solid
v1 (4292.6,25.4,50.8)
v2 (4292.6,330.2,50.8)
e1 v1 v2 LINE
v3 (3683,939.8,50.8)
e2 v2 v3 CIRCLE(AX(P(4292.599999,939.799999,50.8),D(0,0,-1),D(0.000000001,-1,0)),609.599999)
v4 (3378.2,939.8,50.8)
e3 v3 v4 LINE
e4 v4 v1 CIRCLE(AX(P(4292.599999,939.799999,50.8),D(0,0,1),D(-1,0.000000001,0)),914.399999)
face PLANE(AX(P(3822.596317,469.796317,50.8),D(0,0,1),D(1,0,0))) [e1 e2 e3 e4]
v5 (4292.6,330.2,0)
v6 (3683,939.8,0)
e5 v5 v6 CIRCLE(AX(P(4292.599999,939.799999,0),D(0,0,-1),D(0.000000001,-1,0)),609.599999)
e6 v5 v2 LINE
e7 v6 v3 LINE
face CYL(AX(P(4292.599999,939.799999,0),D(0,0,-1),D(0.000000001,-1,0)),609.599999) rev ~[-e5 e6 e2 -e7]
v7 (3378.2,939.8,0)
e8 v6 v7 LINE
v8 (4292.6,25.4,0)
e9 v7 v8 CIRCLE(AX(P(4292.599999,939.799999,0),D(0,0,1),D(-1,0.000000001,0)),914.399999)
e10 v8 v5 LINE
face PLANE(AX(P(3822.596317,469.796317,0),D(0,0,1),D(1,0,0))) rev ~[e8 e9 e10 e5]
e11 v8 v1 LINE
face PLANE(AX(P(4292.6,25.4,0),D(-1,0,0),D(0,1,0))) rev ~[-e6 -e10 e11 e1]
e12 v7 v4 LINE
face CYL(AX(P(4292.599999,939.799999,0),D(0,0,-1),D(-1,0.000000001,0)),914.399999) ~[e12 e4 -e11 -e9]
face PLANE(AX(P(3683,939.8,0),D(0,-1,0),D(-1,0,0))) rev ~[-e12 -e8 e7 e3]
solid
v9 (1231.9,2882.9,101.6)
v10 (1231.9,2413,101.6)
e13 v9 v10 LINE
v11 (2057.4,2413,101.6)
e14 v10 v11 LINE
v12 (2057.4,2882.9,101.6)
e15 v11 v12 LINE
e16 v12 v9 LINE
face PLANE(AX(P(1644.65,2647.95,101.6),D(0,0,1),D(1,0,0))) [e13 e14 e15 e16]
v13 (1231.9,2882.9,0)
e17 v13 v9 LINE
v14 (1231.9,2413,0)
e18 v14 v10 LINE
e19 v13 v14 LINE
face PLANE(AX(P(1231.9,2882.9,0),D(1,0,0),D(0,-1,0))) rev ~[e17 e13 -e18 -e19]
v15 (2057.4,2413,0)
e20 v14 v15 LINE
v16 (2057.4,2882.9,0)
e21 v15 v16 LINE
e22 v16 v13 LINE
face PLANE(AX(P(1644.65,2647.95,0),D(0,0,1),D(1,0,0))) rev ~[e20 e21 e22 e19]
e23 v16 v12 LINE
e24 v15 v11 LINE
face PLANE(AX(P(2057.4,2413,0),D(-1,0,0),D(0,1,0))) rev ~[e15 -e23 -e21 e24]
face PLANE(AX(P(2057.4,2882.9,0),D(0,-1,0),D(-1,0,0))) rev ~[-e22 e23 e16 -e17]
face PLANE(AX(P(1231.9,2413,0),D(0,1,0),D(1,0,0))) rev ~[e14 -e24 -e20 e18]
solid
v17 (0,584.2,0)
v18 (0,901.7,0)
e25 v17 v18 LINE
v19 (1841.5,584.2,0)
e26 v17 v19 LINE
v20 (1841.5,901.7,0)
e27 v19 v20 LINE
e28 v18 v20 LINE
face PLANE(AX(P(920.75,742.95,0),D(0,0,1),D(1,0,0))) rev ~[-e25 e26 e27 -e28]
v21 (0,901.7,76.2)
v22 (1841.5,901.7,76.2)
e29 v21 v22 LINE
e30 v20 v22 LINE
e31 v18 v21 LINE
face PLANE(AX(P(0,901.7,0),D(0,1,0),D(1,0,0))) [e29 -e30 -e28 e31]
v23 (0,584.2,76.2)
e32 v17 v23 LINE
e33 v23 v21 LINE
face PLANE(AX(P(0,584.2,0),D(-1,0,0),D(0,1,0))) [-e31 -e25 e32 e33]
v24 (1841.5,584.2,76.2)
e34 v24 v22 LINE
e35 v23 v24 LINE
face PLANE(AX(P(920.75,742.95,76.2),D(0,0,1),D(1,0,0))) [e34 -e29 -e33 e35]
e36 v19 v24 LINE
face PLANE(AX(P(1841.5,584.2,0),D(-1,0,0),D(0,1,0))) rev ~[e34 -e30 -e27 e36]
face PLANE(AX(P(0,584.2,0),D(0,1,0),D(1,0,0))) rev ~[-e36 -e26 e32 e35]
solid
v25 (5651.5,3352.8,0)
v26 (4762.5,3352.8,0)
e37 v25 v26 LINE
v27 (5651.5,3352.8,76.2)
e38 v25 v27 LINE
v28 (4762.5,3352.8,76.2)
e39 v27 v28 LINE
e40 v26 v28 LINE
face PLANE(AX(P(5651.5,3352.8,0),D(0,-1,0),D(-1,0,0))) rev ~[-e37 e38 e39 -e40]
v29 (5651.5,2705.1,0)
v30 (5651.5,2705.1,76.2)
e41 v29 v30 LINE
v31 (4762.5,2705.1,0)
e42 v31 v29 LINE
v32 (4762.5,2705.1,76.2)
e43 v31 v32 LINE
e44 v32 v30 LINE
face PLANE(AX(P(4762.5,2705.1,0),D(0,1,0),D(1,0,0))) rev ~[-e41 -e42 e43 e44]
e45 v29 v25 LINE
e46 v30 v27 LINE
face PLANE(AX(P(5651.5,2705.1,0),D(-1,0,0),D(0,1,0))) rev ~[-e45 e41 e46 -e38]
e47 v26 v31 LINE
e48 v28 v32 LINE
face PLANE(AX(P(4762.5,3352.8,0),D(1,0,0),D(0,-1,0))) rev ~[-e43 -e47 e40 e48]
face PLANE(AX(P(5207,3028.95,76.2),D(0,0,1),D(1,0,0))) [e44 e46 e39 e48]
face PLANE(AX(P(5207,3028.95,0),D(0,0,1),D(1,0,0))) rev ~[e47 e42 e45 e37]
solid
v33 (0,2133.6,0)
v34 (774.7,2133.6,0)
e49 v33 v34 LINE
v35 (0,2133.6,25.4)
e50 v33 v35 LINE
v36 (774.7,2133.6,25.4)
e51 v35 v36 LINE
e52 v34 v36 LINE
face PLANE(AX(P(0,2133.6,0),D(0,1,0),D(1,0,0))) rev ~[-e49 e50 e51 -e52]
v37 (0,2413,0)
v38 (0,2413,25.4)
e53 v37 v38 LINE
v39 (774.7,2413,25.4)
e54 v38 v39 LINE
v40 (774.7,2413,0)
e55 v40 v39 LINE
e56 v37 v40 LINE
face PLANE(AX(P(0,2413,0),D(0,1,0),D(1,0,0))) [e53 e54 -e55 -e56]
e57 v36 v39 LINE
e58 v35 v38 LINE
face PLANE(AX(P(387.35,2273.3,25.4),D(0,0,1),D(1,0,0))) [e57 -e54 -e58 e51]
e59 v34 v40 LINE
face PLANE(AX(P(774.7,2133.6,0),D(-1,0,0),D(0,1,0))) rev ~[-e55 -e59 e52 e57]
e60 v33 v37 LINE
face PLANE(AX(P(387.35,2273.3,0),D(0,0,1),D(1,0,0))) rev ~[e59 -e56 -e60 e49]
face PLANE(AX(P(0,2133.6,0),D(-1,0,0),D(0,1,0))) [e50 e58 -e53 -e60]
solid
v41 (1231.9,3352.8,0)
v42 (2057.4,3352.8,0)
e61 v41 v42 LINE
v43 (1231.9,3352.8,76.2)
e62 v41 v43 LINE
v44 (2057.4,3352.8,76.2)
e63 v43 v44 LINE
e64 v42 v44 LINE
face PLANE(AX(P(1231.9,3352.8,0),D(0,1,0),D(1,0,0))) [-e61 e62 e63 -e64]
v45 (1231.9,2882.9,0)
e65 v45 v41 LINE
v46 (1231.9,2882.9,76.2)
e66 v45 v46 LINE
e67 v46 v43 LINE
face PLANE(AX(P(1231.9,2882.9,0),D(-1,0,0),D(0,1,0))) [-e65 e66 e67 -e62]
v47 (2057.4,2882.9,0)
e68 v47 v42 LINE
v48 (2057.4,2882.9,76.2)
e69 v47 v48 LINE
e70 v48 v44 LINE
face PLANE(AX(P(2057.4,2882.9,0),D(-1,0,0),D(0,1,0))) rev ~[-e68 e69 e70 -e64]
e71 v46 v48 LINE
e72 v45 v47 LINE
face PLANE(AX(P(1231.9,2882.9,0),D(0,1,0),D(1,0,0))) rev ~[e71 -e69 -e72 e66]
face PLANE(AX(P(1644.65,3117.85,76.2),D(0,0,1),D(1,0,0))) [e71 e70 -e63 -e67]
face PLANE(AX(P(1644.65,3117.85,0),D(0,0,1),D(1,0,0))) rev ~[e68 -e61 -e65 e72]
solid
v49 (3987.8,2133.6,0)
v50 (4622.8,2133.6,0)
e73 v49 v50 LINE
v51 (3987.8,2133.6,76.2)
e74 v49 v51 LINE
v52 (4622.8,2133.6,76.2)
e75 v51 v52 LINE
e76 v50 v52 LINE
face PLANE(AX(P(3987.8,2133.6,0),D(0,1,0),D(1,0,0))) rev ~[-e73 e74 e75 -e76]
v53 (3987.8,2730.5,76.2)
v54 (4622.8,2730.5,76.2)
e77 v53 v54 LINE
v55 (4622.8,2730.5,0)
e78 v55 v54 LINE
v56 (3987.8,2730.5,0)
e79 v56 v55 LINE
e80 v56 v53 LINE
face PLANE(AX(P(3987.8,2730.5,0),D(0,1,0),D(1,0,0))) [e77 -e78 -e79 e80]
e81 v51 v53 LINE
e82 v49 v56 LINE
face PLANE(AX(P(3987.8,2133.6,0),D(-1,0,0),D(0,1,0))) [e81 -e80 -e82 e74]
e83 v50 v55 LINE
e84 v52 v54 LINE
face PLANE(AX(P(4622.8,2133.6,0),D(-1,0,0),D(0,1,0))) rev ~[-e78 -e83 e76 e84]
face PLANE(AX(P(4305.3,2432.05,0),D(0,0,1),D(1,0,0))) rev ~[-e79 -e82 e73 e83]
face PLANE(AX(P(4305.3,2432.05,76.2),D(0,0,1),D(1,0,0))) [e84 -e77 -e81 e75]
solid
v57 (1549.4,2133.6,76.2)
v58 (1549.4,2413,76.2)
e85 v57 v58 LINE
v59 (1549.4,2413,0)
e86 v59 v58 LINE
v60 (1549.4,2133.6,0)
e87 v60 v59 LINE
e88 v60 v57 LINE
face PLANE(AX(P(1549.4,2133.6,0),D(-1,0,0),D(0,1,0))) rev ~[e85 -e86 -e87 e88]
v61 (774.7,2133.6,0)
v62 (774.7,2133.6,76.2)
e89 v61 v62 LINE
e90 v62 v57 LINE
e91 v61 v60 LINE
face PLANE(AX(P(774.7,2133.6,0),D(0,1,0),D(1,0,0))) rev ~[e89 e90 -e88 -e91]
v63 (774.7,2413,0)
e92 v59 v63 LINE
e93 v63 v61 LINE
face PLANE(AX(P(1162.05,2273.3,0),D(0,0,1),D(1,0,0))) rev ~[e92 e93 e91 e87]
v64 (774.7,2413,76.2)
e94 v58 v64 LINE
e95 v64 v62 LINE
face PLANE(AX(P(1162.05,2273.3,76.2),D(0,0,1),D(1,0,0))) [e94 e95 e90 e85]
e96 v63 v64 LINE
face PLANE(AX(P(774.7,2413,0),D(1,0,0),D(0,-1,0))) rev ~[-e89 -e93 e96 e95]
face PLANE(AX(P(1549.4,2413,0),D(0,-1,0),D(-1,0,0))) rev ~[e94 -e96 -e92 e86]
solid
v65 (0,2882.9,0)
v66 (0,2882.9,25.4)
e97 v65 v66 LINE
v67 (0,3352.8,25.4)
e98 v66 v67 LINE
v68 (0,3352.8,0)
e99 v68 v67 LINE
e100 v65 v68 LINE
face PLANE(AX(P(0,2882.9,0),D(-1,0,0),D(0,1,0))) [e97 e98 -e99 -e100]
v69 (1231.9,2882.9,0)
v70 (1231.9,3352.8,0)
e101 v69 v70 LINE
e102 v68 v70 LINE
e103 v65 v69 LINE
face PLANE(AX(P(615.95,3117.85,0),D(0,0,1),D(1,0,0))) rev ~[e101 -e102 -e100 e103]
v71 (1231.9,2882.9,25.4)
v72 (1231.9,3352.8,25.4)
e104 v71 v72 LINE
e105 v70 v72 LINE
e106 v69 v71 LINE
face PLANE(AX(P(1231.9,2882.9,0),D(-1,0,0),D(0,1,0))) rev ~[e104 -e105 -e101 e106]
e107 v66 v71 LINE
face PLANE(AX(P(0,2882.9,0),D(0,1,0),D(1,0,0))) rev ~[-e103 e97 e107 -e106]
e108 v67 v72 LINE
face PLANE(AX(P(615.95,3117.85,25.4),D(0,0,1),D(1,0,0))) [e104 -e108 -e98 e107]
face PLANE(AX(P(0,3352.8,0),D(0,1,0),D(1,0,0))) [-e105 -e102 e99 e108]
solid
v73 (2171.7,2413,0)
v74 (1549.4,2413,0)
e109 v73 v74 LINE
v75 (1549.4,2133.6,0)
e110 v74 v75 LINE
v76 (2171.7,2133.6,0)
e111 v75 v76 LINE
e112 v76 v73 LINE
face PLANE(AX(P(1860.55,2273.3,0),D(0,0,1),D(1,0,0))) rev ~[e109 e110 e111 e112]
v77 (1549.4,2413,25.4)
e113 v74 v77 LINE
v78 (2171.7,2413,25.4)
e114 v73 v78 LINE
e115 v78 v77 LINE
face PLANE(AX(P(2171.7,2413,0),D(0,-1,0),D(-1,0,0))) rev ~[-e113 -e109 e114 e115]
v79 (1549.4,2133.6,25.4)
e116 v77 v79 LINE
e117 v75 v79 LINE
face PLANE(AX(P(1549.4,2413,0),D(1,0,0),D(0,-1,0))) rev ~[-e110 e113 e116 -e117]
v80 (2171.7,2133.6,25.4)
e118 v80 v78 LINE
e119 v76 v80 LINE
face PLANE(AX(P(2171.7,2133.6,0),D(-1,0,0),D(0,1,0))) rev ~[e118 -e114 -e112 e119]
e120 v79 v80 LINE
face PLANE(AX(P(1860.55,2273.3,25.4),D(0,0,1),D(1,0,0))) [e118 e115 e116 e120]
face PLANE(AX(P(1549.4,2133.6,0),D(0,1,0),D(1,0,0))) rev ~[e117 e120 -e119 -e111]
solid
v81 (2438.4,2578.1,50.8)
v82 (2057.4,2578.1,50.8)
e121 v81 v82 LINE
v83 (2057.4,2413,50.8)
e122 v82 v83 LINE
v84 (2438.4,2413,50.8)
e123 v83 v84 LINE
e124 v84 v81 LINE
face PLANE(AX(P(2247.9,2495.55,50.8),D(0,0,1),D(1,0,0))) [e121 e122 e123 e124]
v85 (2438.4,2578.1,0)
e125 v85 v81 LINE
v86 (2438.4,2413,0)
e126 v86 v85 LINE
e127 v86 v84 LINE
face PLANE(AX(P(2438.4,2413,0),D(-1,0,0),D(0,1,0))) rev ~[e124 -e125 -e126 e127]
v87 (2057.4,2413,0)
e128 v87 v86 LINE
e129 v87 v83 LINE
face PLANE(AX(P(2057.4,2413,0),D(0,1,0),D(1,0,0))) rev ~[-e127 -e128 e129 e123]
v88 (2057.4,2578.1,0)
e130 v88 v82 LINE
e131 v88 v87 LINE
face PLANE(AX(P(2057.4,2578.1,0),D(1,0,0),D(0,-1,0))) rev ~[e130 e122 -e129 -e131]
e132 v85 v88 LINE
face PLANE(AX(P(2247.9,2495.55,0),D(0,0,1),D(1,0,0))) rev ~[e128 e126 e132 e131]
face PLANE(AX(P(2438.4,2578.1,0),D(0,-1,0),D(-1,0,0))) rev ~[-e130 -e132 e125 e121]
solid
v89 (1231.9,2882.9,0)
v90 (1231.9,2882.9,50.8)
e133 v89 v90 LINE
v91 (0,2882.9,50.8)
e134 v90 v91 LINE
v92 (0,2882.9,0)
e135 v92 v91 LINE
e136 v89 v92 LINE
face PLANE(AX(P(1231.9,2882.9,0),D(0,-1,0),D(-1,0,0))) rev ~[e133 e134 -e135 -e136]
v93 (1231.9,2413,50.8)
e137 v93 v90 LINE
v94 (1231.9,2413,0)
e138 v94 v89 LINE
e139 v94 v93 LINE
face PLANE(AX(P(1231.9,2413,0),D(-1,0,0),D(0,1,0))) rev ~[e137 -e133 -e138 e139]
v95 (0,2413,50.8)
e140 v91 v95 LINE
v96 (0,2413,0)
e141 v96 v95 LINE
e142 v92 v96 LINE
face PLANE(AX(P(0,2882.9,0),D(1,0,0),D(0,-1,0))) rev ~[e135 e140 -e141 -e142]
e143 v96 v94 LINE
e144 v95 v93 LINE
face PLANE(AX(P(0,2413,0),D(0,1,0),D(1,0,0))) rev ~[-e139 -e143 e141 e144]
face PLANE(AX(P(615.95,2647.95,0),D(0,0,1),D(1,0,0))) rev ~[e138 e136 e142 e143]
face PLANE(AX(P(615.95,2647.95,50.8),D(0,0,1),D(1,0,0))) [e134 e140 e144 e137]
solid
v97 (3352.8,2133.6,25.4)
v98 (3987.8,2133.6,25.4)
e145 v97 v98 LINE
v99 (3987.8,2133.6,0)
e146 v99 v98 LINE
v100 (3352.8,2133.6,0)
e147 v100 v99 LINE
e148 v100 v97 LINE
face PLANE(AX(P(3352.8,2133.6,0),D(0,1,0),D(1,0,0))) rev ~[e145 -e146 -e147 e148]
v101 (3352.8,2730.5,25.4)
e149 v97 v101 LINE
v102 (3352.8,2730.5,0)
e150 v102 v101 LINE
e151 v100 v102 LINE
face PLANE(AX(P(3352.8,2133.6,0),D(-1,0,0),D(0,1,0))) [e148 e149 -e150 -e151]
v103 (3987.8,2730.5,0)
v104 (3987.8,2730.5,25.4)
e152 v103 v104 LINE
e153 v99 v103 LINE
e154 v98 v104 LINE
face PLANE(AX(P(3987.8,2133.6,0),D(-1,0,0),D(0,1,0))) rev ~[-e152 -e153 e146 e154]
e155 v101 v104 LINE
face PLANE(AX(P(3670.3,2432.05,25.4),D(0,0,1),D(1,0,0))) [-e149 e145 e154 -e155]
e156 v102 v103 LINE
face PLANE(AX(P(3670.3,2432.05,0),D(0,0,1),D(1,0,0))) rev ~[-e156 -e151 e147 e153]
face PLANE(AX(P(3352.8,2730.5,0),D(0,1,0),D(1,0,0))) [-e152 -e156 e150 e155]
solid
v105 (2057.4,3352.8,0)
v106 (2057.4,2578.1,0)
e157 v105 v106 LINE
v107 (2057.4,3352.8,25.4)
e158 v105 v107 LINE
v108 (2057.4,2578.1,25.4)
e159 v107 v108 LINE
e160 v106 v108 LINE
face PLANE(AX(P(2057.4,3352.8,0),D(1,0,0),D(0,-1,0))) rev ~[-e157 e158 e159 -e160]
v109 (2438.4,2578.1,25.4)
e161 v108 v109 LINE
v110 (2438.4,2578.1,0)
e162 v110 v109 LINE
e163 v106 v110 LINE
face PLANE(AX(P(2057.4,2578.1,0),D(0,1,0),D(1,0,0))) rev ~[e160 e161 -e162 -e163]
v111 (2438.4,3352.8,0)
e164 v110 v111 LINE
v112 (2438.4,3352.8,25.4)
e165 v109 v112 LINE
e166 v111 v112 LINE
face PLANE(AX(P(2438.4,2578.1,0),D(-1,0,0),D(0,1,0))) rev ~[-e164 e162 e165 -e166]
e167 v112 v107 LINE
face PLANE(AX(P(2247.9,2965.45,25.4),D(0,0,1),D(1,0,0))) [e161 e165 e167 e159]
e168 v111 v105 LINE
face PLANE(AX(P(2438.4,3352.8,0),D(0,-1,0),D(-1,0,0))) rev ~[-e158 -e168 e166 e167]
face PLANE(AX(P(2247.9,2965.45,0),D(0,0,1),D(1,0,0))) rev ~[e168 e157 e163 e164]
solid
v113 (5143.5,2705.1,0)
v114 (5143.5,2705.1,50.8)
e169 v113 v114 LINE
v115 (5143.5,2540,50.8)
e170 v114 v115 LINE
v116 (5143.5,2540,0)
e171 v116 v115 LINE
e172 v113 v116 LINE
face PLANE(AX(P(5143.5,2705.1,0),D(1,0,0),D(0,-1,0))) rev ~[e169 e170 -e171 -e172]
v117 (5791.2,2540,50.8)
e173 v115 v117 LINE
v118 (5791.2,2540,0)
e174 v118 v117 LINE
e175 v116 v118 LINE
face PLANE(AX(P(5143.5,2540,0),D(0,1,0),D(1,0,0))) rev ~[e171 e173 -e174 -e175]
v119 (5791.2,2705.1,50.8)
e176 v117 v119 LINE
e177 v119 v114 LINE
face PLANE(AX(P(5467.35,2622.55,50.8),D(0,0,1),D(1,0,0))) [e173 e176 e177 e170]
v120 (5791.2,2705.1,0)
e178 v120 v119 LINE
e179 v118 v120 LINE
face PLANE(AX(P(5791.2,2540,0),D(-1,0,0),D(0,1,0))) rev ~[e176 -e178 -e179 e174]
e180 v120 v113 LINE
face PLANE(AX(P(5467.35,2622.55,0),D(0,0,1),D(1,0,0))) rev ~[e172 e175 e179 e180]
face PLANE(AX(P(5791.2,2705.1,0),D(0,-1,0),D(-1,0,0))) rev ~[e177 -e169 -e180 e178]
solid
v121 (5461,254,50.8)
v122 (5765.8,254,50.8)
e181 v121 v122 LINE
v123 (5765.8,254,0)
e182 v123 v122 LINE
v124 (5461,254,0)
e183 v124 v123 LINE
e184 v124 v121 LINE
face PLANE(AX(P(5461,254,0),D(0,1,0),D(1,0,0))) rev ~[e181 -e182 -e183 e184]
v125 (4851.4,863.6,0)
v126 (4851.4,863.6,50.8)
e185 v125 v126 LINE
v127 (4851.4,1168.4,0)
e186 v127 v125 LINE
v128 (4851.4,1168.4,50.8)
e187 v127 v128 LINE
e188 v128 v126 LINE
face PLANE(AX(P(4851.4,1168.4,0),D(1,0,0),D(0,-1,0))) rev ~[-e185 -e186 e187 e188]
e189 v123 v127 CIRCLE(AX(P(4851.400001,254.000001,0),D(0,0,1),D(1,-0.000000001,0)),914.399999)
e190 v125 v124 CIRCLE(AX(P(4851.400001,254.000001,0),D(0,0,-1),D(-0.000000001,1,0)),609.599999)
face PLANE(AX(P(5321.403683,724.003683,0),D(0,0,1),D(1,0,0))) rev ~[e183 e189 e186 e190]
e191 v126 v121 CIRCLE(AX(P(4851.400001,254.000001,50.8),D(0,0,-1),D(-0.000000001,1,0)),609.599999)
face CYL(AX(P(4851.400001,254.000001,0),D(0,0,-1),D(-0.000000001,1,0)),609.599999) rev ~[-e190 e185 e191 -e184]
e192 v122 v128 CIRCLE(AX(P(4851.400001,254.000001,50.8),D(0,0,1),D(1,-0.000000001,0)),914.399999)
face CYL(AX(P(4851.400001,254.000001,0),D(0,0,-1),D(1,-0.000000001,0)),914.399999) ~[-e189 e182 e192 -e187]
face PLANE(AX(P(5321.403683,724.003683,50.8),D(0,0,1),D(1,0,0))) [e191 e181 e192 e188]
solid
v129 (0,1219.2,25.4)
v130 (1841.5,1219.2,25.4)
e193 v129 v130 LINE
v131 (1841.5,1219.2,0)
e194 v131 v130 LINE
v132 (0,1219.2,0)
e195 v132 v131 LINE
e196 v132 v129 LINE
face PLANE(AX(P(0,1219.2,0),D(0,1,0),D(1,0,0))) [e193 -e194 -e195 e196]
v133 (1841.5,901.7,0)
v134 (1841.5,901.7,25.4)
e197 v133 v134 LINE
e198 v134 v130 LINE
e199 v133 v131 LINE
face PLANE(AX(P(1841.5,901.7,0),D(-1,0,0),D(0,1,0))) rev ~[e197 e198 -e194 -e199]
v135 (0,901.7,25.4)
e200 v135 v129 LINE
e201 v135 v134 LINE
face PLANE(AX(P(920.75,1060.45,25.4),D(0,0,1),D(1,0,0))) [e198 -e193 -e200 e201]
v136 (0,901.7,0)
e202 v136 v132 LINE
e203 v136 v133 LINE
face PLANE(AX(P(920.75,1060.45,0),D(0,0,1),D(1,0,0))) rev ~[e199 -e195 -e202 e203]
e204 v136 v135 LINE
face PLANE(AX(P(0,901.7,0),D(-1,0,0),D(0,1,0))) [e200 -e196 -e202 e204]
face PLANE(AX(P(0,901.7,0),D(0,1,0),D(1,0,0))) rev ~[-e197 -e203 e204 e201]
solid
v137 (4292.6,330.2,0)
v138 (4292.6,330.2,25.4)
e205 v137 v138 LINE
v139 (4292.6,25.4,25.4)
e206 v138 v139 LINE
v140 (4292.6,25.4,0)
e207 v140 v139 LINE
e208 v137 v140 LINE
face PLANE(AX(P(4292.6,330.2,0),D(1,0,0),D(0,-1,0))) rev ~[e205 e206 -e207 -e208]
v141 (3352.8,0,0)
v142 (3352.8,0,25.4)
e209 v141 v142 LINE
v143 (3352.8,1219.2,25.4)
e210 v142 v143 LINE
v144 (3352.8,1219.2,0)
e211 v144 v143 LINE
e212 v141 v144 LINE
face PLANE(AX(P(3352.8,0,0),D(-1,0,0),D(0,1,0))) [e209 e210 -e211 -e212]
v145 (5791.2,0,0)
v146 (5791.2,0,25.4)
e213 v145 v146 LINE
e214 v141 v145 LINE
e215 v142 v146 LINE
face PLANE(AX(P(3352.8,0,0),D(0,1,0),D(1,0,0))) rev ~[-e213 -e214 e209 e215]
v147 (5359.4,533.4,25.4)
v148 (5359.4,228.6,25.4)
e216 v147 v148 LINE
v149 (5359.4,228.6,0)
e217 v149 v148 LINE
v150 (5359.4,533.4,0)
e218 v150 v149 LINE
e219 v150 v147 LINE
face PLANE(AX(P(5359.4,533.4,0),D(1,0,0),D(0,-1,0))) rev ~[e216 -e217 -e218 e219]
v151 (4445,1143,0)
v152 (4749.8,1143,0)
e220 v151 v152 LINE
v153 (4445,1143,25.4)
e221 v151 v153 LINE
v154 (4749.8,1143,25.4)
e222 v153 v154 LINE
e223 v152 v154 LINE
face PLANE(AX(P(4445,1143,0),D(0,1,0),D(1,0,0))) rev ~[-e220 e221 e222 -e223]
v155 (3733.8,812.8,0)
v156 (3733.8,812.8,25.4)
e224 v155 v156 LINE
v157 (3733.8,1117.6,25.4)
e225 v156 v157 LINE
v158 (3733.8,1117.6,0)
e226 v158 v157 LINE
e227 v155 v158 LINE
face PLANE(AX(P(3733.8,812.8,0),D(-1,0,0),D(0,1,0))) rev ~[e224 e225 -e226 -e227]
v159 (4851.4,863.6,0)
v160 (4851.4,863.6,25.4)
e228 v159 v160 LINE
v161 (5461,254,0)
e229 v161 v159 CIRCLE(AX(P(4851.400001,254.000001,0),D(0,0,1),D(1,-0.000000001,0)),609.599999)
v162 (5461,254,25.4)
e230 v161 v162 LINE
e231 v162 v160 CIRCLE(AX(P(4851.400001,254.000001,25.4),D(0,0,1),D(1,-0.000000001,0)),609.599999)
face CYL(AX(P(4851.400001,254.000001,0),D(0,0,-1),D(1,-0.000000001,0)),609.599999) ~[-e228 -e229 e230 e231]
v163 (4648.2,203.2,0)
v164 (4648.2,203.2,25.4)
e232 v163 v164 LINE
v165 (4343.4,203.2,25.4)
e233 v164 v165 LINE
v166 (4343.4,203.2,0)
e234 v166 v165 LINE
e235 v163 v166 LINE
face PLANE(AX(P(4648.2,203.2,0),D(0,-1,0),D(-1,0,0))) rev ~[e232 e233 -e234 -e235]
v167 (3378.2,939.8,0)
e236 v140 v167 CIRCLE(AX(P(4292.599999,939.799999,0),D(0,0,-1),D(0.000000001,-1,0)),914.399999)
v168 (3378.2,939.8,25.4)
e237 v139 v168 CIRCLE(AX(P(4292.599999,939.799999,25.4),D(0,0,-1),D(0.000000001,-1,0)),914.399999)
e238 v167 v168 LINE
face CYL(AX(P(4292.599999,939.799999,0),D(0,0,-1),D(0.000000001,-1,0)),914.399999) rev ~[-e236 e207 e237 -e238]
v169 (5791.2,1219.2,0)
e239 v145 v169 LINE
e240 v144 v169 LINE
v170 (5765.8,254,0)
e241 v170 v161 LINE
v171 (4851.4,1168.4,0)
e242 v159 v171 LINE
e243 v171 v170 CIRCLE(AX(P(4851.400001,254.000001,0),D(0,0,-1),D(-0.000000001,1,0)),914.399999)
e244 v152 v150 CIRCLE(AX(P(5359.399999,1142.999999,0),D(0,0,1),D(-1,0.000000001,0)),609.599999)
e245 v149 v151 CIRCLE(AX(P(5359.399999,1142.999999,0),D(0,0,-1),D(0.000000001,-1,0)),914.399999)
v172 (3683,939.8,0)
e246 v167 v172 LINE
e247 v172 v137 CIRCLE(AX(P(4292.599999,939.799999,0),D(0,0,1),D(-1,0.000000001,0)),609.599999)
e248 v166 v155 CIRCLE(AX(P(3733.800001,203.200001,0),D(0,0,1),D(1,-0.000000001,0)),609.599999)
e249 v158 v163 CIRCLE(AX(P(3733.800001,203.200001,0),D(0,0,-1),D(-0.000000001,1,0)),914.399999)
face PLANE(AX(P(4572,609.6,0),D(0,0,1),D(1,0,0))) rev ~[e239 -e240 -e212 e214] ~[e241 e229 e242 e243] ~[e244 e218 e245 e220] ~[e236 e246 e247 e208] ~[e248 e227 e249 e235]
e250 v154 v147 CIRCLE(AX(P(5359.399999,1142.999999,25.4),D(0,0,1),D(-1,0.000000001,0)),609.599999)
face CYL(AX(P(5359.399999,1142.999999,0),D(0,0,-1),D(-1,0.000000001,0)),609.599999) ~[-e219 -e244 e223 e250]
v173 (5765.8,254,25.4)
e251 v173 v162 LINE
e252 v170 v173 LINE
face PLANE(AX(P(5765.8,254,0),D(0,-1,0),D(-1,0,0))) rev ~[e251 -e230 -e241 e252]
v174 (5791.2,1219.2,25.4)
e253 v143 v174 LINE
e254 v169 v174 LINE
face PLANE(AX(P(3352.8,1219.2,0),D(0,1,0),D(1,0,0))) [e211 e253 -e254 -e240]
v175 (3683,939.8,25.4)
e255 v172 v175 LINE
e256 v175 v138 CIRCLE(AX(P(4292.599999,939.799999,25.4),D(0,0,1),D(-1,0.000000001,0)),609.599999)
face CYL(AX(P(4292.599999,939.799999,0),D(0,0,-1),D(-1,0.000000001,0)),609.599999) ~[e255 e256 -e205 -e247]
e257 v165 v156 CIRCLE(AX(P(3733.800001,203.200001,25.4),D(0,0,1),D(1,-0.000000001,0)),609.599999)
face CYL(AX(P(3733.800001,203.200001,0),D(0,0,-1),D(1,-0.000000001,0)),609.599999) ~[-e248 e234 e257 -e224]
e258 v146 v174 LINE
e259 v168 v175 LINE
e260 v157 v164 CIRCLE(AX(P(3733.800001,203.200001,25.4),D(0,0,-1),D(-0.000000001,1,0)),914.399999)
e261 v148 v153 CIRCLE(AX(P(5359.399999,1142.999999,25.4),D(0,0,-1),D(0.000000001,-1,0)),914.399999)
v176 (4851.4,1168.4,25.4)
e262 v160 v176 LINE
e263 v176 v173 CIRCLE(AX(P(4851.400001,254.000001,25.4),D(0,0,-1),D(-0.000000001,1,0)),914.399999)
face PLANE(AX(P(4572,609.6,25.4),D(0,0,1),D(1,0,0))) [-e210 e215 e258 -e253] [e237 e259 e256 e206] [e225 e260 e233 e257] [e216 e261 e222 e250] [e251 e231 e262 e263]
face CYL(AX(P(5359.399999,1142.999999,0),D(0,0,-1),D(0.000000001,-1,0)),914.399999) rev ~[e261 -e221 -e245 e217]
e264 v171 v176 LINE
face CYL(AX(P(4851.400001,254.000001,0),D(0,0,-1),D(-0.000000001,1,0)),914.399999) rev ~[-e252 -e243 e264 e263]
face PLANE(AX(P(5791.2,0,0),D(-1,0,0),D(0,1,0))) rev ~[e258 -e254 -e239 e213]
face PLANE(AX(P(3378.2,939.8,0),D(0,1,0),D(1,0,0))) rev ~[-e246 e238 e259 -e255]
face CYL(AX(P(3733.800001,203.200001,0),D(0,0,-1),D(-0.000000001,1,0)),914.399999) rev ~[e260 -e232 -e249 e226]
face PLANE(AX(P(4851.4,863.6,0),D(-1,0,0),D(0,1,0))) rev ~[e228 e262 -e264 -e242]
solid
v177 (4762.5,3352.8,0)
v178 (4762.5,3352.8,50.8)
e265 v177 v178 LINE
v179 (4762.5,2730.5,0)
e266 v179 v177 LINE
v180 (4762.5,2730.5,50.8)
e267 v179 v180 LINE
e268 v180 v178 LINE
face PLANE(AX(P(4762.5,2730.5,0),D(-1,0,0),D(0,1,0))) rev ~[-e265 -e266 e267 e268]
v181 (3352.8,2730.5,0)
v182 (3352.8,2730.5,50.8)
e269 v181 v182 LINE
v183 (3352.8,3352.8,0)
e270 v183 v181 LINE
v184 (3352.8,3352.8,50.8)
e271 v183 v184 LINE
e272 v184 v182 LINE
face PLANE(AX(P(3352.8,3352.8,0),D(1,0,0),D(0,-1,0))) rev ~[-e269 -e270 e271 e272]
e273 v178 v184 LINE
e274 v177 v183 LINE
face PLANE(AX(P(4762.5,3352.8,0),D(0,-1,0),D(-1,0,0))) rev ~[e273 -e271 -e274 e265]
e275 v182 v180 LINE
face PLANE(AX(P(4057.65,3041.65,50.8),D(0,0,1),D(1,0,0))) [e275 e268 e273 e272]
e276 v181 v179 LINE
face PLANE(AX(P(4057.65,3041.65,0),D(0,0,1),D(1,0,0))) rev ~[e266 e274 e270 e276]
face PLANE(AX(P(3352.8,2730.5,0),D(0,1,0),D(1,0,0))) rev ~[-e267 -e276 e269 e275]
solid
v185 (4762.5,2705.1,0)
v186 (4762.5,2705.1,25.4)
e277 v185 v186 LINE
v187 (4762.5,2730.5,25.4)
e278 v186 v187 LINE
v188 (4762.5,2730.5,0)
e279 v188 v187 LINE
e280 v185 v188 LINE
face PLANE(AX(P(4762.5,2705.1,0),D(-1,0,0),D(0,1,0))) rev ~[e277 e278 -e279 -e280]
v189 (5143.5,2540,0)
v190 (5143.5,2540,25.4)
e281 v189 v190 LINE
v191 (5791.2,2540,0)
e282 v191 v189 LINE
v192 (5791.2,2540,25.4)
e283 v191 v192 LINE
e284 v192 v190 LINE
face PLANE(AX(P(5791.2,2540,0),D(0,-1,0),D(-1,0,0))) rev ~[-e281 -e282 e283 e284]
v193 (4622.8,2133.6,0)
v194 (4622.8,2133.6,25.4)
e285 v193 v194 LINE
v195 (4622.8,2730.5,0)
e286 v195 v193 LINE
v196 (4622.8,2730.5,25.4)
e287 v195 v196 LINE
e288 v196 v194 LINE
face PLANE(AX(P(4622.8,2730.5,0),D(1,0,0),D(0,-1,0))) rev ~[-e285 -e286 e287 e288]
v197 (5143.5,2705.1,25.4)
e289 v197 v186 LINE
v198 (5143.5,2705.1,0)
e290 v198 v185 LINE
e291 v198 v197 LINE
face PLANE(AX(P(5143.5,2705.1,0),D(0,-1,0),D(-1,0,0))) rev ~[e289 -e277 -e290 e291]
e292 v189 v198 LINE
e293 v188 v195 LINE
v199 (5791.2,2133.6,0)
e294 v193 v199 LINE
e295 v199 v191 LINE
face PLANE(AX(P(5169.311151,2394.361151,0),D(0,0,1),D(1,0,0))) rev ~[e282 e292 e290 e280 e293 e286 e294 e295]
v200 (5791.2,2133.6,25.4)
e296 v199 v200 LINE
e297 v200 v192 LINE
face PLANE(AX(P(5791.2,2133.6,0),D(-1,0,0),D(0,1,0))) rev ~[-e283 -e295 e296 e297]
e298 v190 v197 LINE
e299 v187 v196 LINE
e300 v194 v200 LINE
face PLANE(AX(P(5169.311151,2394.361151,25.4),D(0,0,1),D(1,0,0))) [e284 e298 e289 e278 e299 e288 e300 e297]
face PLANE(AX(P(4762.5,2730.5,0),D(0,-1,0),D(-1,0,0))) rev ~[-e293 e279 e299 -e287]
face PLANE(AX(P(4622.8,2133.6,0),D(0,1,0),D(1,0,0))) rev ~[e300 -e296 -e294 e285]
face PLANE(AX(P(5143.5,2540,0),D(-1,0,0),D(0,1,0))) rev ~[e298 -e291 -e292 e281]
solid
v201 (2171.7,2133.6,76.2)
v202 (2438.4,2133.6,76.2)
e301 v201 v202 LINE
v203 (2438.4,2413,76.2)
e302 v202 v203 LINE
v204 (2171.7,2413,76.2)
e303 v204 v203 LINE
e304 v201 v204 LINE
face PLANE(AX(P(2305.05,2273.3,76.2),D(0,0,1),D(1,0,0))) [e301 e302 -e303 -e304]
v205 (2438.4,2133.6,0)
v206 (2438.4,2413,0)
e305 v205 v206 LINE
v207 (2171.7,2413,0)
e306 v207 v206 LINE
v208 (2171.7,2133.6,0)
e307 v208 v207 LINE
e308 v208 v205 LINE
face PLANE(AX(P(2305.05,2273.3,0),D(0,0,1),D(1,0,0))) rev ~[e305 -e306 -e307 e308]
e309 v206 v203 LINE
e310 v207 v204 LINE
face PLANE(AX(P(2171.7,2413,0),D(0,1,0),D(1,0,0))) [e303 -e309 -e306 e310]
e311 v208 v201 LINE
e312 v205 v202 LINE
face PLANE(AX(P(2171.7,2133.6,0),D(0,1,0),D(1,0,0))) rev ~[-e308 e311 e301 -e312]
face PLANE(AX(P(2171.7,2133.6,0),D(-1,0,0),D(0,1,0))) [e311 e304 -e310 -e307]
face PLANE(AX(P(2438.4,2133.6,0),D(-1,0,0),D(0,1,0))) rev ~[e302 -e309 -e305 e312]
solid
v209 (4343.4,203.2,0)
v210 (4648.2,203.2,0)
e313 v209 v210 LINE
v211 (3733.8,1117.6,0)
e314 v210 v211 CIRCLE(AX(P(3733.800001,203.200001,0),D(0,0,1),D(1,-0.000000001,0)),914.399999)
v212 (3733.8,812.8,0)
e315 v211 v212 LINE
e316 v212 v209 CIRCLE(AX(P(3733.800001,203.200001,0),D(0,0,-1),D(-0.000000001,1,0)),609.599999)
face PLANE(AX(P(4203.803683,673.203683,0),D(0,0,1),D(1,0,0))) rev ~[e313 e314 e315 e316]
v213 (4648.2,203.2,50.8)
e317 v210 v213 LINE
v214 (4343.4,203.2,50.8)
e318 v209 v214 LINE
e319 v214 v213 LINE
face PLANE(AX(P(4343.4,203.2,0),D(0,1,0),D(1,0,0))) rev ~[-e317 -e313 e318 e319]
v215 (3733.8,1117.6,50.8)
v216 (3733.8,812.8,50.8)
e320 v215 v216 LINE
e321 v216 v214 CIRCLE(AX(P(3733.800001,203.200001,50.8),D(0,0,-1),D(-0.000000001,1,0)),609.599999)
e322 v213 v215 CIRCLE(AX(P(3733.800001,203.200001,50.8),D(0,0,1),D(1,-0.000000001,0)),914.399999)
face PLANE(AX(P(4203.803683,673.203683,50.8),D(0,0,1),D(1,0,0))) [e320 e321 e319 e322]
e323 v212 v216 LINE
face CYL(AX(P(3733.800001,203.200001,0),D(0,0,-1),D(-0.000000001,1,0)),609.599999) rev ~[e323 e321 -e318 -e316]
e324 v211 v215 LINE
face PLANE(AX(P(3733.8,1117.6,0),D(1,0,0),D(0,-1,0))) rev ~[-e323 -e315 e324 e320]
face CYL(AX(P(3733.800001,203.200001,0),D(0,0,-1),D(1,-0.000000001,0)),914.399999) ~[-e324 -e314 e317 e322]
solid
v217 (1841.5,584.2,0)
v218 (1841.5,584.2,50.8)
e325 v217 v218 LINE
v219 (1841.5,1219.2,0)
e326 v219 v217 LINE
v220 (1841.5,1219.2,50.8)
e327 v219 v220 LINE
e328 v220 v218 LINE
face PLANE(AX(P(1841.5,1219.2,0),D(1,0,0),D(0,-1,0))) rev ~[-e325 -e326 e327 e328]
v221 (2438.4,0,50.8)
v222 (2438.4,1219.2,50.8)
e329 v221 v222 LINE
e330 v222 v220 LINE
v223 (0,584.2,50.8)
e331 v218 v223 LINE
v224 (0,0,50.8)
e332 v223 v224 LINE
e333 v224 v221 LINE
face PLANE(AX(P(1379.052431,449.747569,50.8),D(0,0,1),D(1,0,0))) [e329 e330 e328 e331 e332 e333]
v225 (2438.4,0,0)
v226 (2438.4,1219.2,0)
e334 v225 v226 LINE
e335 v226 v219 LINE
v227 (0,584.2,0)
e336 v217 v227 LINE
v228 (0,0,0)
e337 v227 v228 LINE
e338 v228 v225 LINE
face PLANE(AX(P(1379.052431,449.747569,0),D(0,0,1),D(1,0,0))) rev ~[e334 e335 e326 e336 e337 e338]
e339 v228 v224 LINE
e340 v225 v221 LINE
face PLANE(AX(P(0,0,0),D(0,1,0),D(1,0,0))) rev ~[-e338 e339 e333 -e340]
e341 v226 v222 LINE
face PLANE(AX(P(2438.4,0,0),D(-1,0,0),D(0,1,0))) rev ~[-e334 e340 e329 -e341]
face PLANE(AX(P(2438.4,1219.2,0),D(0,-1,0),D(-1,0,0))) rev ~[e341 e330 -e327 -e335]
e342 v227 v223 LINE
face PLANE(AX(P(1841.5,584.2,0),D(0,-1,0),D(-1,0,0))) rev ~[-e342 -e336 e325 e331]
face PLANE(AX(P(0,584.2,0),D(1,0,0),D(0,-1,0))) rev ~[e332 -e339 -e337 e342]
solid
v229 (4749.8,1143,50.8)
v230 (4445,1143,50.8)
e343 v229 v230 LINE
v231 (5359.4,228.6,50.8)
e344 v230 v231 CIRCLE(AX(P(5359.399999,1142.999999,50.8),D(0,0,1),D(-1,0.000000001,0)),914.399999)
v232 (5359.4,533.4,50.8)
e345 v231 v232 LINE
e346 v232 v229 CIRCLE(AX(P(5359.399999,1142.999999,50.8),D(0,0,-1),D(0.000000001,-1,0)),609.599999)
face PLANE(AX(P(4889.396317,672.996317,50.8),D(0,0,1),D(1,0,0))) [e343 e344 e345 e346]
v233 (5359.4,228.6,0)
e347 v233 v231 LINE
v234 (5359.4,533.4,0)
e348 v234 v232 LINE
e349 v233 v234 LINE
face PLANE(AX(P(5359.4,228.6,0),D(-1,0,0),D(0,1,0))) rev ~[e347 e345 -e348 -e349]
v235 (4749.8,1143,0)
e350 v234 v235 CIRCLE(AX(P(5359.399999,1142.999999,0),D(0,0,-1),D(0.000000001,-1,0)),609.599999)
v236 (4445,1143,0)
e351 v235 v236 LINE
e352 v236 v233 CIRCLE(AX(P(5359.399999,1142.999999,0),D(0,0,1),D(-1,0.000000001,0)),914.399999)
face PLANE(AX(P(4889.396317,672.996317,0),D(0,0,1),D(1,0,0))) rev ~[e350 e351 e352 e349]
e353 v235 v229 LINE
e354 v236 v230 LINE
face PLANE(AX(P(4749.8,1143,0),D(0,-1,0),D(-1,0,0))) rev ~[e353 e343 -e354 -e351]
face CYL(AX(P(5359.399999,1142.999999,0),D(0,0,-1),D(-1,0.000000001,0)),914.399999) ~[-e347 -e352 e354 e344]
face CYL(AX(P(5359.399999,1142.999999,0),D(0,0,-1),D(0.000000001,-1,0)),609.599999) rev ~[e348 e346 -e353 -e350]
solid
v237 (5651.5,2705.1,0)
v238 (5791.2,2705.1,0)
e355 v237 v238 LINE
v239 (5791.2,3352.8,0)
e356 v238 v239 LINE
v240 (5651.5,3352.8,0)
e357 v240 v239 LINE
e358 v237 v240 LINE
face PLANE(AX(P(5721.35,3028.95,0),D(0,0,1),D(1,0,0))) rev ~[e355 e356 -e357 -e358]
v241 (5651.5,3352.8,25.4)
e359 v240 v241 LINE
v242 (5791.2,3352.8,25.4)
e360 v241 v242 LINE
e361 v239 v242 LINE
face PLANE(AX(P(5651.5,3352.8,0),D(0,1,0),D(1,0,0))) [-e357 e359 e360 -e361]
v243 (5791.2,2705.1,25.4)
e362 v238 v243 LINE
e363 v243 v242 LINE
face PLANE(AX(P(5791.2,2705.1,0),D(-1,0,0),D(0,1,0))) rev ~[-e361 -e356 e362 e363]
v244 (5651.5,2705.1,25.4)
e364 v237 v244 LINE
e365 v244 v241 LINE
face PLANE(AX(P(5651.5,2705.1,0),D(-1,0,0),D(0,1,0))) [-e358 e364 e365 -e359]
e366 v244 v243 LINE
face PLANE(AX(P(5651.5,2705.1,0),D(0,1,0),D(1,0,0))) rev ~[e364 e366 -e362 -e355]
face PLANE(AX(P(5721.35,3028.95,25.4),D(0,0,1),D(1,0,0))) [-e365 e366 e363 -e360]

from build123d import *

# Parameters (mm, degrees)
F0_W     = 1231.9
F0_H     = 469.9
F0_W_2   = 774.7
F0_H_2   = 279.4
F0_W_3   = 1841.5
F0_H_3   = 317.5
F0_W_4   = 635
F0_H_4   = 596.9
F0_W_5   = 139.7
F0_H_5   = 647.7
F0_W_6   = 2438.4
F0_H_6   = 1219.2
F1_DEPTH = 25.4
F2_DEPTH = 50.8
F0_W_7   = 825.5
F0_W_8   = 266.7
F3_DEPTH = 76.2
F4_DEPTH = 101.6


with BuildPart() as f1:
    # F0 (on Top) → F1 (new body)
    with BuildSketch(Plane.XY):
        with Locations((615.95, 3117.85)):
            Rectangle(F0_W, F0_H)
        with Locations((387.35, 2273.3)):
            Rectangle(F0_W_2, F0_H_2)
        Polygon((1549.4, 2413), (1549.4, 2133.6), (2171.7, 2133.6), (2171.7, 2413), (2057.4, 2413), align=None)
        Polygon((2057.4, 3352.8), (2057.4, 2882.9), (2057.4, 2578.1), (2438.4, 2578.1), (2438.4, 3352.8), align=None)
        with Locations((920.75, 1060.45)):
            Rectangle(F0_W_3, F0_H_3)
        with Locations((3670.3, 2432.05)):
            Rectangle(F0_W_4, F0_H_4)
        Polygon((4622.8, 2730.5), (4622.8, 2133.6), (5791.2, 2133.6), (5791.2, 2540), (5143.5, 2540), (5143.5, 2705.1), (4762.5, 2705.1), (4762.5, 2730.5), align=None)
        with Locations((5721.35, 3028.95)):
            Rectangle(F0_W_5, F0_H_5)
        with Locations((4572, 609.6)):
            Rectangle(F0_W_6, F0_H_6)
        with BuildLine():
            ThreePointArc((4292.6, 25.4), (3646.021559, 293.221559), (3378.2, 939.8))
            Line((3378.2, 939.8), (3683, 939.8))
            ThreePointArc((3683, 939.8), (3861.547706, 508.747706), (4292.6, 330.2))
            Line((4292.6, 330.2), (4292.6, 25.4))
        make_face(mode=Mode.SUBTRACT)
        with BuildLine():
            ThreePointArc((3733.8, 1117.6), (4380.378441, 849.778441), (4648.2, 203.2))
            Line((4648.2, 203.2), (4343.4, 203.2))
            ThreePointArc((4343.4, 203.2), (4164.852294, 634.252294), (3733.8, 812.8))
            Line((3733.8, 812.8), (3733.8, 1117.6))
        make_face(mode=Mode.SUBTRACT)
        with BuildLine():
            ThreePointArc((5359.4, 228.6), (4712.821559, 496.421559), (4445, 1143))
            Line((4445, 1143), (4749.8, 1143))
            ThreePointArc((4749.8, 1143), (4928.347706, 711.947706), (5359.4, 533.4))
            Line((5359.4, 533.4), (5359.4, 228.6))
        make_face(mode=Mode.SUBTRACT)
        with BuildLine():
            ThreePointArc((4851.4, 1168.4), (5497.978441, 900.578441), (5765.8, 254))
            Line((5765.8, 254), (5461, 254))
            ThreePointArc((5461, 254), (5282.452294, 685.052294), (4851.4, 863.6))
            Line((4851.4, 863.6), (4851.4, 1168.4))
        make_face(mode=Mode.SUBTRACT)
    extrude(amount=F1_DEPTH)


with BuildPart() as f2:
    # F0 (on Top) → F2 (new body)
    with BuildSketch(Plane.XY):
        Polygon((0, 2882.9), (0, 2413), (774.7, 2413), (1231.9, 2413), (1231.9, 2882.9), align=None)
        Polygon((2057.4, 2413), (2171.7, 2413), (2438.4, 2413), (2438.4, 2578.1), (2057.4, 2578.1), align=None)
        Polygon((0, 584.2), (0, 0), (2438.4, 0), (2438.4, 1219.2), (1841.5, 1219.2), (1841.5, 901.7), (1841.5, 584.2), align=None)
        Polygon((3352.8, 3352.8), (3352.8, 2730.5), (3987.8, 2730.5), (4622.8, 2730.5), (4762.5, 2730.5), (4762.5, 3352.8), align=None)
        Polygon((5143.5, 2540), (5791.2, 2540), (5791.2, 2705.1), (5651.5, 2705.1), (5143.5, 2705.1), align=None)
        with BuildLine():
            Line((3683, 939.8), (3378.2, 939.8))
            ThreePointArc((3378.2, 939.8), (3646.021559, 293.221559), (4292.6, 25.4))
            Line((4292.6, 25.4), (4292.6, 330.2))
            ThreePointArc((4292.6, 330.2), (3861.547706, 508.747706), (3683, 939.8))
        make_face()
        with BuildLine():
            Line((4343.4, 203.2), (4648.2, 203.2))
            ThreePointArc((4648.2, 203.2), (4380.378441, 849.778441), (3733.8, 1117.6))
            Line((3733.8, 1117.6), (3733.8, 812.8))
            ThreePointArc((3733.8, 812.8), (4164.852294, 634.252294), (4343.4, 203.2))
        make_face()
        with BuildLine():
            Line((4749.8, 1143), (4445, 1143))
            ThreePointArc((4445, 1143), (4712.821559, 496.421559), (5359.4, 228.6))
            Line((5359.4, 228.6), (5359.4, 533.4))
            ThreePointArc((5359.4, 533.4), (4928.347706, 711.947706), (4749.8, 1143))
        make_face()
        with BuildLine():
            Line((5461, 254), (5765.8, 254))
            ThreePointArc((5765.8, 254), (5497.978441, 900.578441), (4851.4, 1168.4))
            Line((4851.4, 1168.4), (4851.4, 863.6))
            ThreePointArc((4851.4, 863.6), (5282.452294, 685.052294), (5461, 254))
        make_face()
    extrude(amount=F2_DEPTH)


with BuildPart() as f3:
    # F0 (on Top) → F3 (new body)
    with BuildSketch(Plane.XY):
        with Locations((1644.65, 3117.85)):
            Rectangle(F0_W_7, F0_H)
        Polygon((774.7, 2413), (774.7, 2133.6), (1549.4, 2133.6), (1549.4, 2413), (1231.9, 2413), align=None)
        with Locations((2305.05, 2273.3)):
            Rectangle(F0_W_8, F0_H_2)
        with Locations((920.75, 742.95)):
            Rectangle(F0_W_3, F0_H_3)
        with Locations((4305.3, 2432.05)):
            Rectangle(F0_W_4, F0_H_4)
        Polygon((5651.5, 3352.8), (4762.5, 3352.8), (4762.5, 2730.5), (4762.5, 2705.1), (5143.5, 2705.1), (5651.5, 2705.1), align=None)
    extrude(amount=F3_DEPTH)


with BuildPart() as f4:
    # F0 (on Top) → F4 (new body)
    with BuildSketch(Plane.XY):
        Polygon((1231.9, 2413), (1549.4, 2413), (2057.4, 2413), (2057.4, 2578.1), (2057.4, 2882.9), (1231.9, 2882.9), align=None)
    extrude(amount=F4_DEPTH)


solid = Compound([f1.part, f2.part, f3.part, f4.part])
